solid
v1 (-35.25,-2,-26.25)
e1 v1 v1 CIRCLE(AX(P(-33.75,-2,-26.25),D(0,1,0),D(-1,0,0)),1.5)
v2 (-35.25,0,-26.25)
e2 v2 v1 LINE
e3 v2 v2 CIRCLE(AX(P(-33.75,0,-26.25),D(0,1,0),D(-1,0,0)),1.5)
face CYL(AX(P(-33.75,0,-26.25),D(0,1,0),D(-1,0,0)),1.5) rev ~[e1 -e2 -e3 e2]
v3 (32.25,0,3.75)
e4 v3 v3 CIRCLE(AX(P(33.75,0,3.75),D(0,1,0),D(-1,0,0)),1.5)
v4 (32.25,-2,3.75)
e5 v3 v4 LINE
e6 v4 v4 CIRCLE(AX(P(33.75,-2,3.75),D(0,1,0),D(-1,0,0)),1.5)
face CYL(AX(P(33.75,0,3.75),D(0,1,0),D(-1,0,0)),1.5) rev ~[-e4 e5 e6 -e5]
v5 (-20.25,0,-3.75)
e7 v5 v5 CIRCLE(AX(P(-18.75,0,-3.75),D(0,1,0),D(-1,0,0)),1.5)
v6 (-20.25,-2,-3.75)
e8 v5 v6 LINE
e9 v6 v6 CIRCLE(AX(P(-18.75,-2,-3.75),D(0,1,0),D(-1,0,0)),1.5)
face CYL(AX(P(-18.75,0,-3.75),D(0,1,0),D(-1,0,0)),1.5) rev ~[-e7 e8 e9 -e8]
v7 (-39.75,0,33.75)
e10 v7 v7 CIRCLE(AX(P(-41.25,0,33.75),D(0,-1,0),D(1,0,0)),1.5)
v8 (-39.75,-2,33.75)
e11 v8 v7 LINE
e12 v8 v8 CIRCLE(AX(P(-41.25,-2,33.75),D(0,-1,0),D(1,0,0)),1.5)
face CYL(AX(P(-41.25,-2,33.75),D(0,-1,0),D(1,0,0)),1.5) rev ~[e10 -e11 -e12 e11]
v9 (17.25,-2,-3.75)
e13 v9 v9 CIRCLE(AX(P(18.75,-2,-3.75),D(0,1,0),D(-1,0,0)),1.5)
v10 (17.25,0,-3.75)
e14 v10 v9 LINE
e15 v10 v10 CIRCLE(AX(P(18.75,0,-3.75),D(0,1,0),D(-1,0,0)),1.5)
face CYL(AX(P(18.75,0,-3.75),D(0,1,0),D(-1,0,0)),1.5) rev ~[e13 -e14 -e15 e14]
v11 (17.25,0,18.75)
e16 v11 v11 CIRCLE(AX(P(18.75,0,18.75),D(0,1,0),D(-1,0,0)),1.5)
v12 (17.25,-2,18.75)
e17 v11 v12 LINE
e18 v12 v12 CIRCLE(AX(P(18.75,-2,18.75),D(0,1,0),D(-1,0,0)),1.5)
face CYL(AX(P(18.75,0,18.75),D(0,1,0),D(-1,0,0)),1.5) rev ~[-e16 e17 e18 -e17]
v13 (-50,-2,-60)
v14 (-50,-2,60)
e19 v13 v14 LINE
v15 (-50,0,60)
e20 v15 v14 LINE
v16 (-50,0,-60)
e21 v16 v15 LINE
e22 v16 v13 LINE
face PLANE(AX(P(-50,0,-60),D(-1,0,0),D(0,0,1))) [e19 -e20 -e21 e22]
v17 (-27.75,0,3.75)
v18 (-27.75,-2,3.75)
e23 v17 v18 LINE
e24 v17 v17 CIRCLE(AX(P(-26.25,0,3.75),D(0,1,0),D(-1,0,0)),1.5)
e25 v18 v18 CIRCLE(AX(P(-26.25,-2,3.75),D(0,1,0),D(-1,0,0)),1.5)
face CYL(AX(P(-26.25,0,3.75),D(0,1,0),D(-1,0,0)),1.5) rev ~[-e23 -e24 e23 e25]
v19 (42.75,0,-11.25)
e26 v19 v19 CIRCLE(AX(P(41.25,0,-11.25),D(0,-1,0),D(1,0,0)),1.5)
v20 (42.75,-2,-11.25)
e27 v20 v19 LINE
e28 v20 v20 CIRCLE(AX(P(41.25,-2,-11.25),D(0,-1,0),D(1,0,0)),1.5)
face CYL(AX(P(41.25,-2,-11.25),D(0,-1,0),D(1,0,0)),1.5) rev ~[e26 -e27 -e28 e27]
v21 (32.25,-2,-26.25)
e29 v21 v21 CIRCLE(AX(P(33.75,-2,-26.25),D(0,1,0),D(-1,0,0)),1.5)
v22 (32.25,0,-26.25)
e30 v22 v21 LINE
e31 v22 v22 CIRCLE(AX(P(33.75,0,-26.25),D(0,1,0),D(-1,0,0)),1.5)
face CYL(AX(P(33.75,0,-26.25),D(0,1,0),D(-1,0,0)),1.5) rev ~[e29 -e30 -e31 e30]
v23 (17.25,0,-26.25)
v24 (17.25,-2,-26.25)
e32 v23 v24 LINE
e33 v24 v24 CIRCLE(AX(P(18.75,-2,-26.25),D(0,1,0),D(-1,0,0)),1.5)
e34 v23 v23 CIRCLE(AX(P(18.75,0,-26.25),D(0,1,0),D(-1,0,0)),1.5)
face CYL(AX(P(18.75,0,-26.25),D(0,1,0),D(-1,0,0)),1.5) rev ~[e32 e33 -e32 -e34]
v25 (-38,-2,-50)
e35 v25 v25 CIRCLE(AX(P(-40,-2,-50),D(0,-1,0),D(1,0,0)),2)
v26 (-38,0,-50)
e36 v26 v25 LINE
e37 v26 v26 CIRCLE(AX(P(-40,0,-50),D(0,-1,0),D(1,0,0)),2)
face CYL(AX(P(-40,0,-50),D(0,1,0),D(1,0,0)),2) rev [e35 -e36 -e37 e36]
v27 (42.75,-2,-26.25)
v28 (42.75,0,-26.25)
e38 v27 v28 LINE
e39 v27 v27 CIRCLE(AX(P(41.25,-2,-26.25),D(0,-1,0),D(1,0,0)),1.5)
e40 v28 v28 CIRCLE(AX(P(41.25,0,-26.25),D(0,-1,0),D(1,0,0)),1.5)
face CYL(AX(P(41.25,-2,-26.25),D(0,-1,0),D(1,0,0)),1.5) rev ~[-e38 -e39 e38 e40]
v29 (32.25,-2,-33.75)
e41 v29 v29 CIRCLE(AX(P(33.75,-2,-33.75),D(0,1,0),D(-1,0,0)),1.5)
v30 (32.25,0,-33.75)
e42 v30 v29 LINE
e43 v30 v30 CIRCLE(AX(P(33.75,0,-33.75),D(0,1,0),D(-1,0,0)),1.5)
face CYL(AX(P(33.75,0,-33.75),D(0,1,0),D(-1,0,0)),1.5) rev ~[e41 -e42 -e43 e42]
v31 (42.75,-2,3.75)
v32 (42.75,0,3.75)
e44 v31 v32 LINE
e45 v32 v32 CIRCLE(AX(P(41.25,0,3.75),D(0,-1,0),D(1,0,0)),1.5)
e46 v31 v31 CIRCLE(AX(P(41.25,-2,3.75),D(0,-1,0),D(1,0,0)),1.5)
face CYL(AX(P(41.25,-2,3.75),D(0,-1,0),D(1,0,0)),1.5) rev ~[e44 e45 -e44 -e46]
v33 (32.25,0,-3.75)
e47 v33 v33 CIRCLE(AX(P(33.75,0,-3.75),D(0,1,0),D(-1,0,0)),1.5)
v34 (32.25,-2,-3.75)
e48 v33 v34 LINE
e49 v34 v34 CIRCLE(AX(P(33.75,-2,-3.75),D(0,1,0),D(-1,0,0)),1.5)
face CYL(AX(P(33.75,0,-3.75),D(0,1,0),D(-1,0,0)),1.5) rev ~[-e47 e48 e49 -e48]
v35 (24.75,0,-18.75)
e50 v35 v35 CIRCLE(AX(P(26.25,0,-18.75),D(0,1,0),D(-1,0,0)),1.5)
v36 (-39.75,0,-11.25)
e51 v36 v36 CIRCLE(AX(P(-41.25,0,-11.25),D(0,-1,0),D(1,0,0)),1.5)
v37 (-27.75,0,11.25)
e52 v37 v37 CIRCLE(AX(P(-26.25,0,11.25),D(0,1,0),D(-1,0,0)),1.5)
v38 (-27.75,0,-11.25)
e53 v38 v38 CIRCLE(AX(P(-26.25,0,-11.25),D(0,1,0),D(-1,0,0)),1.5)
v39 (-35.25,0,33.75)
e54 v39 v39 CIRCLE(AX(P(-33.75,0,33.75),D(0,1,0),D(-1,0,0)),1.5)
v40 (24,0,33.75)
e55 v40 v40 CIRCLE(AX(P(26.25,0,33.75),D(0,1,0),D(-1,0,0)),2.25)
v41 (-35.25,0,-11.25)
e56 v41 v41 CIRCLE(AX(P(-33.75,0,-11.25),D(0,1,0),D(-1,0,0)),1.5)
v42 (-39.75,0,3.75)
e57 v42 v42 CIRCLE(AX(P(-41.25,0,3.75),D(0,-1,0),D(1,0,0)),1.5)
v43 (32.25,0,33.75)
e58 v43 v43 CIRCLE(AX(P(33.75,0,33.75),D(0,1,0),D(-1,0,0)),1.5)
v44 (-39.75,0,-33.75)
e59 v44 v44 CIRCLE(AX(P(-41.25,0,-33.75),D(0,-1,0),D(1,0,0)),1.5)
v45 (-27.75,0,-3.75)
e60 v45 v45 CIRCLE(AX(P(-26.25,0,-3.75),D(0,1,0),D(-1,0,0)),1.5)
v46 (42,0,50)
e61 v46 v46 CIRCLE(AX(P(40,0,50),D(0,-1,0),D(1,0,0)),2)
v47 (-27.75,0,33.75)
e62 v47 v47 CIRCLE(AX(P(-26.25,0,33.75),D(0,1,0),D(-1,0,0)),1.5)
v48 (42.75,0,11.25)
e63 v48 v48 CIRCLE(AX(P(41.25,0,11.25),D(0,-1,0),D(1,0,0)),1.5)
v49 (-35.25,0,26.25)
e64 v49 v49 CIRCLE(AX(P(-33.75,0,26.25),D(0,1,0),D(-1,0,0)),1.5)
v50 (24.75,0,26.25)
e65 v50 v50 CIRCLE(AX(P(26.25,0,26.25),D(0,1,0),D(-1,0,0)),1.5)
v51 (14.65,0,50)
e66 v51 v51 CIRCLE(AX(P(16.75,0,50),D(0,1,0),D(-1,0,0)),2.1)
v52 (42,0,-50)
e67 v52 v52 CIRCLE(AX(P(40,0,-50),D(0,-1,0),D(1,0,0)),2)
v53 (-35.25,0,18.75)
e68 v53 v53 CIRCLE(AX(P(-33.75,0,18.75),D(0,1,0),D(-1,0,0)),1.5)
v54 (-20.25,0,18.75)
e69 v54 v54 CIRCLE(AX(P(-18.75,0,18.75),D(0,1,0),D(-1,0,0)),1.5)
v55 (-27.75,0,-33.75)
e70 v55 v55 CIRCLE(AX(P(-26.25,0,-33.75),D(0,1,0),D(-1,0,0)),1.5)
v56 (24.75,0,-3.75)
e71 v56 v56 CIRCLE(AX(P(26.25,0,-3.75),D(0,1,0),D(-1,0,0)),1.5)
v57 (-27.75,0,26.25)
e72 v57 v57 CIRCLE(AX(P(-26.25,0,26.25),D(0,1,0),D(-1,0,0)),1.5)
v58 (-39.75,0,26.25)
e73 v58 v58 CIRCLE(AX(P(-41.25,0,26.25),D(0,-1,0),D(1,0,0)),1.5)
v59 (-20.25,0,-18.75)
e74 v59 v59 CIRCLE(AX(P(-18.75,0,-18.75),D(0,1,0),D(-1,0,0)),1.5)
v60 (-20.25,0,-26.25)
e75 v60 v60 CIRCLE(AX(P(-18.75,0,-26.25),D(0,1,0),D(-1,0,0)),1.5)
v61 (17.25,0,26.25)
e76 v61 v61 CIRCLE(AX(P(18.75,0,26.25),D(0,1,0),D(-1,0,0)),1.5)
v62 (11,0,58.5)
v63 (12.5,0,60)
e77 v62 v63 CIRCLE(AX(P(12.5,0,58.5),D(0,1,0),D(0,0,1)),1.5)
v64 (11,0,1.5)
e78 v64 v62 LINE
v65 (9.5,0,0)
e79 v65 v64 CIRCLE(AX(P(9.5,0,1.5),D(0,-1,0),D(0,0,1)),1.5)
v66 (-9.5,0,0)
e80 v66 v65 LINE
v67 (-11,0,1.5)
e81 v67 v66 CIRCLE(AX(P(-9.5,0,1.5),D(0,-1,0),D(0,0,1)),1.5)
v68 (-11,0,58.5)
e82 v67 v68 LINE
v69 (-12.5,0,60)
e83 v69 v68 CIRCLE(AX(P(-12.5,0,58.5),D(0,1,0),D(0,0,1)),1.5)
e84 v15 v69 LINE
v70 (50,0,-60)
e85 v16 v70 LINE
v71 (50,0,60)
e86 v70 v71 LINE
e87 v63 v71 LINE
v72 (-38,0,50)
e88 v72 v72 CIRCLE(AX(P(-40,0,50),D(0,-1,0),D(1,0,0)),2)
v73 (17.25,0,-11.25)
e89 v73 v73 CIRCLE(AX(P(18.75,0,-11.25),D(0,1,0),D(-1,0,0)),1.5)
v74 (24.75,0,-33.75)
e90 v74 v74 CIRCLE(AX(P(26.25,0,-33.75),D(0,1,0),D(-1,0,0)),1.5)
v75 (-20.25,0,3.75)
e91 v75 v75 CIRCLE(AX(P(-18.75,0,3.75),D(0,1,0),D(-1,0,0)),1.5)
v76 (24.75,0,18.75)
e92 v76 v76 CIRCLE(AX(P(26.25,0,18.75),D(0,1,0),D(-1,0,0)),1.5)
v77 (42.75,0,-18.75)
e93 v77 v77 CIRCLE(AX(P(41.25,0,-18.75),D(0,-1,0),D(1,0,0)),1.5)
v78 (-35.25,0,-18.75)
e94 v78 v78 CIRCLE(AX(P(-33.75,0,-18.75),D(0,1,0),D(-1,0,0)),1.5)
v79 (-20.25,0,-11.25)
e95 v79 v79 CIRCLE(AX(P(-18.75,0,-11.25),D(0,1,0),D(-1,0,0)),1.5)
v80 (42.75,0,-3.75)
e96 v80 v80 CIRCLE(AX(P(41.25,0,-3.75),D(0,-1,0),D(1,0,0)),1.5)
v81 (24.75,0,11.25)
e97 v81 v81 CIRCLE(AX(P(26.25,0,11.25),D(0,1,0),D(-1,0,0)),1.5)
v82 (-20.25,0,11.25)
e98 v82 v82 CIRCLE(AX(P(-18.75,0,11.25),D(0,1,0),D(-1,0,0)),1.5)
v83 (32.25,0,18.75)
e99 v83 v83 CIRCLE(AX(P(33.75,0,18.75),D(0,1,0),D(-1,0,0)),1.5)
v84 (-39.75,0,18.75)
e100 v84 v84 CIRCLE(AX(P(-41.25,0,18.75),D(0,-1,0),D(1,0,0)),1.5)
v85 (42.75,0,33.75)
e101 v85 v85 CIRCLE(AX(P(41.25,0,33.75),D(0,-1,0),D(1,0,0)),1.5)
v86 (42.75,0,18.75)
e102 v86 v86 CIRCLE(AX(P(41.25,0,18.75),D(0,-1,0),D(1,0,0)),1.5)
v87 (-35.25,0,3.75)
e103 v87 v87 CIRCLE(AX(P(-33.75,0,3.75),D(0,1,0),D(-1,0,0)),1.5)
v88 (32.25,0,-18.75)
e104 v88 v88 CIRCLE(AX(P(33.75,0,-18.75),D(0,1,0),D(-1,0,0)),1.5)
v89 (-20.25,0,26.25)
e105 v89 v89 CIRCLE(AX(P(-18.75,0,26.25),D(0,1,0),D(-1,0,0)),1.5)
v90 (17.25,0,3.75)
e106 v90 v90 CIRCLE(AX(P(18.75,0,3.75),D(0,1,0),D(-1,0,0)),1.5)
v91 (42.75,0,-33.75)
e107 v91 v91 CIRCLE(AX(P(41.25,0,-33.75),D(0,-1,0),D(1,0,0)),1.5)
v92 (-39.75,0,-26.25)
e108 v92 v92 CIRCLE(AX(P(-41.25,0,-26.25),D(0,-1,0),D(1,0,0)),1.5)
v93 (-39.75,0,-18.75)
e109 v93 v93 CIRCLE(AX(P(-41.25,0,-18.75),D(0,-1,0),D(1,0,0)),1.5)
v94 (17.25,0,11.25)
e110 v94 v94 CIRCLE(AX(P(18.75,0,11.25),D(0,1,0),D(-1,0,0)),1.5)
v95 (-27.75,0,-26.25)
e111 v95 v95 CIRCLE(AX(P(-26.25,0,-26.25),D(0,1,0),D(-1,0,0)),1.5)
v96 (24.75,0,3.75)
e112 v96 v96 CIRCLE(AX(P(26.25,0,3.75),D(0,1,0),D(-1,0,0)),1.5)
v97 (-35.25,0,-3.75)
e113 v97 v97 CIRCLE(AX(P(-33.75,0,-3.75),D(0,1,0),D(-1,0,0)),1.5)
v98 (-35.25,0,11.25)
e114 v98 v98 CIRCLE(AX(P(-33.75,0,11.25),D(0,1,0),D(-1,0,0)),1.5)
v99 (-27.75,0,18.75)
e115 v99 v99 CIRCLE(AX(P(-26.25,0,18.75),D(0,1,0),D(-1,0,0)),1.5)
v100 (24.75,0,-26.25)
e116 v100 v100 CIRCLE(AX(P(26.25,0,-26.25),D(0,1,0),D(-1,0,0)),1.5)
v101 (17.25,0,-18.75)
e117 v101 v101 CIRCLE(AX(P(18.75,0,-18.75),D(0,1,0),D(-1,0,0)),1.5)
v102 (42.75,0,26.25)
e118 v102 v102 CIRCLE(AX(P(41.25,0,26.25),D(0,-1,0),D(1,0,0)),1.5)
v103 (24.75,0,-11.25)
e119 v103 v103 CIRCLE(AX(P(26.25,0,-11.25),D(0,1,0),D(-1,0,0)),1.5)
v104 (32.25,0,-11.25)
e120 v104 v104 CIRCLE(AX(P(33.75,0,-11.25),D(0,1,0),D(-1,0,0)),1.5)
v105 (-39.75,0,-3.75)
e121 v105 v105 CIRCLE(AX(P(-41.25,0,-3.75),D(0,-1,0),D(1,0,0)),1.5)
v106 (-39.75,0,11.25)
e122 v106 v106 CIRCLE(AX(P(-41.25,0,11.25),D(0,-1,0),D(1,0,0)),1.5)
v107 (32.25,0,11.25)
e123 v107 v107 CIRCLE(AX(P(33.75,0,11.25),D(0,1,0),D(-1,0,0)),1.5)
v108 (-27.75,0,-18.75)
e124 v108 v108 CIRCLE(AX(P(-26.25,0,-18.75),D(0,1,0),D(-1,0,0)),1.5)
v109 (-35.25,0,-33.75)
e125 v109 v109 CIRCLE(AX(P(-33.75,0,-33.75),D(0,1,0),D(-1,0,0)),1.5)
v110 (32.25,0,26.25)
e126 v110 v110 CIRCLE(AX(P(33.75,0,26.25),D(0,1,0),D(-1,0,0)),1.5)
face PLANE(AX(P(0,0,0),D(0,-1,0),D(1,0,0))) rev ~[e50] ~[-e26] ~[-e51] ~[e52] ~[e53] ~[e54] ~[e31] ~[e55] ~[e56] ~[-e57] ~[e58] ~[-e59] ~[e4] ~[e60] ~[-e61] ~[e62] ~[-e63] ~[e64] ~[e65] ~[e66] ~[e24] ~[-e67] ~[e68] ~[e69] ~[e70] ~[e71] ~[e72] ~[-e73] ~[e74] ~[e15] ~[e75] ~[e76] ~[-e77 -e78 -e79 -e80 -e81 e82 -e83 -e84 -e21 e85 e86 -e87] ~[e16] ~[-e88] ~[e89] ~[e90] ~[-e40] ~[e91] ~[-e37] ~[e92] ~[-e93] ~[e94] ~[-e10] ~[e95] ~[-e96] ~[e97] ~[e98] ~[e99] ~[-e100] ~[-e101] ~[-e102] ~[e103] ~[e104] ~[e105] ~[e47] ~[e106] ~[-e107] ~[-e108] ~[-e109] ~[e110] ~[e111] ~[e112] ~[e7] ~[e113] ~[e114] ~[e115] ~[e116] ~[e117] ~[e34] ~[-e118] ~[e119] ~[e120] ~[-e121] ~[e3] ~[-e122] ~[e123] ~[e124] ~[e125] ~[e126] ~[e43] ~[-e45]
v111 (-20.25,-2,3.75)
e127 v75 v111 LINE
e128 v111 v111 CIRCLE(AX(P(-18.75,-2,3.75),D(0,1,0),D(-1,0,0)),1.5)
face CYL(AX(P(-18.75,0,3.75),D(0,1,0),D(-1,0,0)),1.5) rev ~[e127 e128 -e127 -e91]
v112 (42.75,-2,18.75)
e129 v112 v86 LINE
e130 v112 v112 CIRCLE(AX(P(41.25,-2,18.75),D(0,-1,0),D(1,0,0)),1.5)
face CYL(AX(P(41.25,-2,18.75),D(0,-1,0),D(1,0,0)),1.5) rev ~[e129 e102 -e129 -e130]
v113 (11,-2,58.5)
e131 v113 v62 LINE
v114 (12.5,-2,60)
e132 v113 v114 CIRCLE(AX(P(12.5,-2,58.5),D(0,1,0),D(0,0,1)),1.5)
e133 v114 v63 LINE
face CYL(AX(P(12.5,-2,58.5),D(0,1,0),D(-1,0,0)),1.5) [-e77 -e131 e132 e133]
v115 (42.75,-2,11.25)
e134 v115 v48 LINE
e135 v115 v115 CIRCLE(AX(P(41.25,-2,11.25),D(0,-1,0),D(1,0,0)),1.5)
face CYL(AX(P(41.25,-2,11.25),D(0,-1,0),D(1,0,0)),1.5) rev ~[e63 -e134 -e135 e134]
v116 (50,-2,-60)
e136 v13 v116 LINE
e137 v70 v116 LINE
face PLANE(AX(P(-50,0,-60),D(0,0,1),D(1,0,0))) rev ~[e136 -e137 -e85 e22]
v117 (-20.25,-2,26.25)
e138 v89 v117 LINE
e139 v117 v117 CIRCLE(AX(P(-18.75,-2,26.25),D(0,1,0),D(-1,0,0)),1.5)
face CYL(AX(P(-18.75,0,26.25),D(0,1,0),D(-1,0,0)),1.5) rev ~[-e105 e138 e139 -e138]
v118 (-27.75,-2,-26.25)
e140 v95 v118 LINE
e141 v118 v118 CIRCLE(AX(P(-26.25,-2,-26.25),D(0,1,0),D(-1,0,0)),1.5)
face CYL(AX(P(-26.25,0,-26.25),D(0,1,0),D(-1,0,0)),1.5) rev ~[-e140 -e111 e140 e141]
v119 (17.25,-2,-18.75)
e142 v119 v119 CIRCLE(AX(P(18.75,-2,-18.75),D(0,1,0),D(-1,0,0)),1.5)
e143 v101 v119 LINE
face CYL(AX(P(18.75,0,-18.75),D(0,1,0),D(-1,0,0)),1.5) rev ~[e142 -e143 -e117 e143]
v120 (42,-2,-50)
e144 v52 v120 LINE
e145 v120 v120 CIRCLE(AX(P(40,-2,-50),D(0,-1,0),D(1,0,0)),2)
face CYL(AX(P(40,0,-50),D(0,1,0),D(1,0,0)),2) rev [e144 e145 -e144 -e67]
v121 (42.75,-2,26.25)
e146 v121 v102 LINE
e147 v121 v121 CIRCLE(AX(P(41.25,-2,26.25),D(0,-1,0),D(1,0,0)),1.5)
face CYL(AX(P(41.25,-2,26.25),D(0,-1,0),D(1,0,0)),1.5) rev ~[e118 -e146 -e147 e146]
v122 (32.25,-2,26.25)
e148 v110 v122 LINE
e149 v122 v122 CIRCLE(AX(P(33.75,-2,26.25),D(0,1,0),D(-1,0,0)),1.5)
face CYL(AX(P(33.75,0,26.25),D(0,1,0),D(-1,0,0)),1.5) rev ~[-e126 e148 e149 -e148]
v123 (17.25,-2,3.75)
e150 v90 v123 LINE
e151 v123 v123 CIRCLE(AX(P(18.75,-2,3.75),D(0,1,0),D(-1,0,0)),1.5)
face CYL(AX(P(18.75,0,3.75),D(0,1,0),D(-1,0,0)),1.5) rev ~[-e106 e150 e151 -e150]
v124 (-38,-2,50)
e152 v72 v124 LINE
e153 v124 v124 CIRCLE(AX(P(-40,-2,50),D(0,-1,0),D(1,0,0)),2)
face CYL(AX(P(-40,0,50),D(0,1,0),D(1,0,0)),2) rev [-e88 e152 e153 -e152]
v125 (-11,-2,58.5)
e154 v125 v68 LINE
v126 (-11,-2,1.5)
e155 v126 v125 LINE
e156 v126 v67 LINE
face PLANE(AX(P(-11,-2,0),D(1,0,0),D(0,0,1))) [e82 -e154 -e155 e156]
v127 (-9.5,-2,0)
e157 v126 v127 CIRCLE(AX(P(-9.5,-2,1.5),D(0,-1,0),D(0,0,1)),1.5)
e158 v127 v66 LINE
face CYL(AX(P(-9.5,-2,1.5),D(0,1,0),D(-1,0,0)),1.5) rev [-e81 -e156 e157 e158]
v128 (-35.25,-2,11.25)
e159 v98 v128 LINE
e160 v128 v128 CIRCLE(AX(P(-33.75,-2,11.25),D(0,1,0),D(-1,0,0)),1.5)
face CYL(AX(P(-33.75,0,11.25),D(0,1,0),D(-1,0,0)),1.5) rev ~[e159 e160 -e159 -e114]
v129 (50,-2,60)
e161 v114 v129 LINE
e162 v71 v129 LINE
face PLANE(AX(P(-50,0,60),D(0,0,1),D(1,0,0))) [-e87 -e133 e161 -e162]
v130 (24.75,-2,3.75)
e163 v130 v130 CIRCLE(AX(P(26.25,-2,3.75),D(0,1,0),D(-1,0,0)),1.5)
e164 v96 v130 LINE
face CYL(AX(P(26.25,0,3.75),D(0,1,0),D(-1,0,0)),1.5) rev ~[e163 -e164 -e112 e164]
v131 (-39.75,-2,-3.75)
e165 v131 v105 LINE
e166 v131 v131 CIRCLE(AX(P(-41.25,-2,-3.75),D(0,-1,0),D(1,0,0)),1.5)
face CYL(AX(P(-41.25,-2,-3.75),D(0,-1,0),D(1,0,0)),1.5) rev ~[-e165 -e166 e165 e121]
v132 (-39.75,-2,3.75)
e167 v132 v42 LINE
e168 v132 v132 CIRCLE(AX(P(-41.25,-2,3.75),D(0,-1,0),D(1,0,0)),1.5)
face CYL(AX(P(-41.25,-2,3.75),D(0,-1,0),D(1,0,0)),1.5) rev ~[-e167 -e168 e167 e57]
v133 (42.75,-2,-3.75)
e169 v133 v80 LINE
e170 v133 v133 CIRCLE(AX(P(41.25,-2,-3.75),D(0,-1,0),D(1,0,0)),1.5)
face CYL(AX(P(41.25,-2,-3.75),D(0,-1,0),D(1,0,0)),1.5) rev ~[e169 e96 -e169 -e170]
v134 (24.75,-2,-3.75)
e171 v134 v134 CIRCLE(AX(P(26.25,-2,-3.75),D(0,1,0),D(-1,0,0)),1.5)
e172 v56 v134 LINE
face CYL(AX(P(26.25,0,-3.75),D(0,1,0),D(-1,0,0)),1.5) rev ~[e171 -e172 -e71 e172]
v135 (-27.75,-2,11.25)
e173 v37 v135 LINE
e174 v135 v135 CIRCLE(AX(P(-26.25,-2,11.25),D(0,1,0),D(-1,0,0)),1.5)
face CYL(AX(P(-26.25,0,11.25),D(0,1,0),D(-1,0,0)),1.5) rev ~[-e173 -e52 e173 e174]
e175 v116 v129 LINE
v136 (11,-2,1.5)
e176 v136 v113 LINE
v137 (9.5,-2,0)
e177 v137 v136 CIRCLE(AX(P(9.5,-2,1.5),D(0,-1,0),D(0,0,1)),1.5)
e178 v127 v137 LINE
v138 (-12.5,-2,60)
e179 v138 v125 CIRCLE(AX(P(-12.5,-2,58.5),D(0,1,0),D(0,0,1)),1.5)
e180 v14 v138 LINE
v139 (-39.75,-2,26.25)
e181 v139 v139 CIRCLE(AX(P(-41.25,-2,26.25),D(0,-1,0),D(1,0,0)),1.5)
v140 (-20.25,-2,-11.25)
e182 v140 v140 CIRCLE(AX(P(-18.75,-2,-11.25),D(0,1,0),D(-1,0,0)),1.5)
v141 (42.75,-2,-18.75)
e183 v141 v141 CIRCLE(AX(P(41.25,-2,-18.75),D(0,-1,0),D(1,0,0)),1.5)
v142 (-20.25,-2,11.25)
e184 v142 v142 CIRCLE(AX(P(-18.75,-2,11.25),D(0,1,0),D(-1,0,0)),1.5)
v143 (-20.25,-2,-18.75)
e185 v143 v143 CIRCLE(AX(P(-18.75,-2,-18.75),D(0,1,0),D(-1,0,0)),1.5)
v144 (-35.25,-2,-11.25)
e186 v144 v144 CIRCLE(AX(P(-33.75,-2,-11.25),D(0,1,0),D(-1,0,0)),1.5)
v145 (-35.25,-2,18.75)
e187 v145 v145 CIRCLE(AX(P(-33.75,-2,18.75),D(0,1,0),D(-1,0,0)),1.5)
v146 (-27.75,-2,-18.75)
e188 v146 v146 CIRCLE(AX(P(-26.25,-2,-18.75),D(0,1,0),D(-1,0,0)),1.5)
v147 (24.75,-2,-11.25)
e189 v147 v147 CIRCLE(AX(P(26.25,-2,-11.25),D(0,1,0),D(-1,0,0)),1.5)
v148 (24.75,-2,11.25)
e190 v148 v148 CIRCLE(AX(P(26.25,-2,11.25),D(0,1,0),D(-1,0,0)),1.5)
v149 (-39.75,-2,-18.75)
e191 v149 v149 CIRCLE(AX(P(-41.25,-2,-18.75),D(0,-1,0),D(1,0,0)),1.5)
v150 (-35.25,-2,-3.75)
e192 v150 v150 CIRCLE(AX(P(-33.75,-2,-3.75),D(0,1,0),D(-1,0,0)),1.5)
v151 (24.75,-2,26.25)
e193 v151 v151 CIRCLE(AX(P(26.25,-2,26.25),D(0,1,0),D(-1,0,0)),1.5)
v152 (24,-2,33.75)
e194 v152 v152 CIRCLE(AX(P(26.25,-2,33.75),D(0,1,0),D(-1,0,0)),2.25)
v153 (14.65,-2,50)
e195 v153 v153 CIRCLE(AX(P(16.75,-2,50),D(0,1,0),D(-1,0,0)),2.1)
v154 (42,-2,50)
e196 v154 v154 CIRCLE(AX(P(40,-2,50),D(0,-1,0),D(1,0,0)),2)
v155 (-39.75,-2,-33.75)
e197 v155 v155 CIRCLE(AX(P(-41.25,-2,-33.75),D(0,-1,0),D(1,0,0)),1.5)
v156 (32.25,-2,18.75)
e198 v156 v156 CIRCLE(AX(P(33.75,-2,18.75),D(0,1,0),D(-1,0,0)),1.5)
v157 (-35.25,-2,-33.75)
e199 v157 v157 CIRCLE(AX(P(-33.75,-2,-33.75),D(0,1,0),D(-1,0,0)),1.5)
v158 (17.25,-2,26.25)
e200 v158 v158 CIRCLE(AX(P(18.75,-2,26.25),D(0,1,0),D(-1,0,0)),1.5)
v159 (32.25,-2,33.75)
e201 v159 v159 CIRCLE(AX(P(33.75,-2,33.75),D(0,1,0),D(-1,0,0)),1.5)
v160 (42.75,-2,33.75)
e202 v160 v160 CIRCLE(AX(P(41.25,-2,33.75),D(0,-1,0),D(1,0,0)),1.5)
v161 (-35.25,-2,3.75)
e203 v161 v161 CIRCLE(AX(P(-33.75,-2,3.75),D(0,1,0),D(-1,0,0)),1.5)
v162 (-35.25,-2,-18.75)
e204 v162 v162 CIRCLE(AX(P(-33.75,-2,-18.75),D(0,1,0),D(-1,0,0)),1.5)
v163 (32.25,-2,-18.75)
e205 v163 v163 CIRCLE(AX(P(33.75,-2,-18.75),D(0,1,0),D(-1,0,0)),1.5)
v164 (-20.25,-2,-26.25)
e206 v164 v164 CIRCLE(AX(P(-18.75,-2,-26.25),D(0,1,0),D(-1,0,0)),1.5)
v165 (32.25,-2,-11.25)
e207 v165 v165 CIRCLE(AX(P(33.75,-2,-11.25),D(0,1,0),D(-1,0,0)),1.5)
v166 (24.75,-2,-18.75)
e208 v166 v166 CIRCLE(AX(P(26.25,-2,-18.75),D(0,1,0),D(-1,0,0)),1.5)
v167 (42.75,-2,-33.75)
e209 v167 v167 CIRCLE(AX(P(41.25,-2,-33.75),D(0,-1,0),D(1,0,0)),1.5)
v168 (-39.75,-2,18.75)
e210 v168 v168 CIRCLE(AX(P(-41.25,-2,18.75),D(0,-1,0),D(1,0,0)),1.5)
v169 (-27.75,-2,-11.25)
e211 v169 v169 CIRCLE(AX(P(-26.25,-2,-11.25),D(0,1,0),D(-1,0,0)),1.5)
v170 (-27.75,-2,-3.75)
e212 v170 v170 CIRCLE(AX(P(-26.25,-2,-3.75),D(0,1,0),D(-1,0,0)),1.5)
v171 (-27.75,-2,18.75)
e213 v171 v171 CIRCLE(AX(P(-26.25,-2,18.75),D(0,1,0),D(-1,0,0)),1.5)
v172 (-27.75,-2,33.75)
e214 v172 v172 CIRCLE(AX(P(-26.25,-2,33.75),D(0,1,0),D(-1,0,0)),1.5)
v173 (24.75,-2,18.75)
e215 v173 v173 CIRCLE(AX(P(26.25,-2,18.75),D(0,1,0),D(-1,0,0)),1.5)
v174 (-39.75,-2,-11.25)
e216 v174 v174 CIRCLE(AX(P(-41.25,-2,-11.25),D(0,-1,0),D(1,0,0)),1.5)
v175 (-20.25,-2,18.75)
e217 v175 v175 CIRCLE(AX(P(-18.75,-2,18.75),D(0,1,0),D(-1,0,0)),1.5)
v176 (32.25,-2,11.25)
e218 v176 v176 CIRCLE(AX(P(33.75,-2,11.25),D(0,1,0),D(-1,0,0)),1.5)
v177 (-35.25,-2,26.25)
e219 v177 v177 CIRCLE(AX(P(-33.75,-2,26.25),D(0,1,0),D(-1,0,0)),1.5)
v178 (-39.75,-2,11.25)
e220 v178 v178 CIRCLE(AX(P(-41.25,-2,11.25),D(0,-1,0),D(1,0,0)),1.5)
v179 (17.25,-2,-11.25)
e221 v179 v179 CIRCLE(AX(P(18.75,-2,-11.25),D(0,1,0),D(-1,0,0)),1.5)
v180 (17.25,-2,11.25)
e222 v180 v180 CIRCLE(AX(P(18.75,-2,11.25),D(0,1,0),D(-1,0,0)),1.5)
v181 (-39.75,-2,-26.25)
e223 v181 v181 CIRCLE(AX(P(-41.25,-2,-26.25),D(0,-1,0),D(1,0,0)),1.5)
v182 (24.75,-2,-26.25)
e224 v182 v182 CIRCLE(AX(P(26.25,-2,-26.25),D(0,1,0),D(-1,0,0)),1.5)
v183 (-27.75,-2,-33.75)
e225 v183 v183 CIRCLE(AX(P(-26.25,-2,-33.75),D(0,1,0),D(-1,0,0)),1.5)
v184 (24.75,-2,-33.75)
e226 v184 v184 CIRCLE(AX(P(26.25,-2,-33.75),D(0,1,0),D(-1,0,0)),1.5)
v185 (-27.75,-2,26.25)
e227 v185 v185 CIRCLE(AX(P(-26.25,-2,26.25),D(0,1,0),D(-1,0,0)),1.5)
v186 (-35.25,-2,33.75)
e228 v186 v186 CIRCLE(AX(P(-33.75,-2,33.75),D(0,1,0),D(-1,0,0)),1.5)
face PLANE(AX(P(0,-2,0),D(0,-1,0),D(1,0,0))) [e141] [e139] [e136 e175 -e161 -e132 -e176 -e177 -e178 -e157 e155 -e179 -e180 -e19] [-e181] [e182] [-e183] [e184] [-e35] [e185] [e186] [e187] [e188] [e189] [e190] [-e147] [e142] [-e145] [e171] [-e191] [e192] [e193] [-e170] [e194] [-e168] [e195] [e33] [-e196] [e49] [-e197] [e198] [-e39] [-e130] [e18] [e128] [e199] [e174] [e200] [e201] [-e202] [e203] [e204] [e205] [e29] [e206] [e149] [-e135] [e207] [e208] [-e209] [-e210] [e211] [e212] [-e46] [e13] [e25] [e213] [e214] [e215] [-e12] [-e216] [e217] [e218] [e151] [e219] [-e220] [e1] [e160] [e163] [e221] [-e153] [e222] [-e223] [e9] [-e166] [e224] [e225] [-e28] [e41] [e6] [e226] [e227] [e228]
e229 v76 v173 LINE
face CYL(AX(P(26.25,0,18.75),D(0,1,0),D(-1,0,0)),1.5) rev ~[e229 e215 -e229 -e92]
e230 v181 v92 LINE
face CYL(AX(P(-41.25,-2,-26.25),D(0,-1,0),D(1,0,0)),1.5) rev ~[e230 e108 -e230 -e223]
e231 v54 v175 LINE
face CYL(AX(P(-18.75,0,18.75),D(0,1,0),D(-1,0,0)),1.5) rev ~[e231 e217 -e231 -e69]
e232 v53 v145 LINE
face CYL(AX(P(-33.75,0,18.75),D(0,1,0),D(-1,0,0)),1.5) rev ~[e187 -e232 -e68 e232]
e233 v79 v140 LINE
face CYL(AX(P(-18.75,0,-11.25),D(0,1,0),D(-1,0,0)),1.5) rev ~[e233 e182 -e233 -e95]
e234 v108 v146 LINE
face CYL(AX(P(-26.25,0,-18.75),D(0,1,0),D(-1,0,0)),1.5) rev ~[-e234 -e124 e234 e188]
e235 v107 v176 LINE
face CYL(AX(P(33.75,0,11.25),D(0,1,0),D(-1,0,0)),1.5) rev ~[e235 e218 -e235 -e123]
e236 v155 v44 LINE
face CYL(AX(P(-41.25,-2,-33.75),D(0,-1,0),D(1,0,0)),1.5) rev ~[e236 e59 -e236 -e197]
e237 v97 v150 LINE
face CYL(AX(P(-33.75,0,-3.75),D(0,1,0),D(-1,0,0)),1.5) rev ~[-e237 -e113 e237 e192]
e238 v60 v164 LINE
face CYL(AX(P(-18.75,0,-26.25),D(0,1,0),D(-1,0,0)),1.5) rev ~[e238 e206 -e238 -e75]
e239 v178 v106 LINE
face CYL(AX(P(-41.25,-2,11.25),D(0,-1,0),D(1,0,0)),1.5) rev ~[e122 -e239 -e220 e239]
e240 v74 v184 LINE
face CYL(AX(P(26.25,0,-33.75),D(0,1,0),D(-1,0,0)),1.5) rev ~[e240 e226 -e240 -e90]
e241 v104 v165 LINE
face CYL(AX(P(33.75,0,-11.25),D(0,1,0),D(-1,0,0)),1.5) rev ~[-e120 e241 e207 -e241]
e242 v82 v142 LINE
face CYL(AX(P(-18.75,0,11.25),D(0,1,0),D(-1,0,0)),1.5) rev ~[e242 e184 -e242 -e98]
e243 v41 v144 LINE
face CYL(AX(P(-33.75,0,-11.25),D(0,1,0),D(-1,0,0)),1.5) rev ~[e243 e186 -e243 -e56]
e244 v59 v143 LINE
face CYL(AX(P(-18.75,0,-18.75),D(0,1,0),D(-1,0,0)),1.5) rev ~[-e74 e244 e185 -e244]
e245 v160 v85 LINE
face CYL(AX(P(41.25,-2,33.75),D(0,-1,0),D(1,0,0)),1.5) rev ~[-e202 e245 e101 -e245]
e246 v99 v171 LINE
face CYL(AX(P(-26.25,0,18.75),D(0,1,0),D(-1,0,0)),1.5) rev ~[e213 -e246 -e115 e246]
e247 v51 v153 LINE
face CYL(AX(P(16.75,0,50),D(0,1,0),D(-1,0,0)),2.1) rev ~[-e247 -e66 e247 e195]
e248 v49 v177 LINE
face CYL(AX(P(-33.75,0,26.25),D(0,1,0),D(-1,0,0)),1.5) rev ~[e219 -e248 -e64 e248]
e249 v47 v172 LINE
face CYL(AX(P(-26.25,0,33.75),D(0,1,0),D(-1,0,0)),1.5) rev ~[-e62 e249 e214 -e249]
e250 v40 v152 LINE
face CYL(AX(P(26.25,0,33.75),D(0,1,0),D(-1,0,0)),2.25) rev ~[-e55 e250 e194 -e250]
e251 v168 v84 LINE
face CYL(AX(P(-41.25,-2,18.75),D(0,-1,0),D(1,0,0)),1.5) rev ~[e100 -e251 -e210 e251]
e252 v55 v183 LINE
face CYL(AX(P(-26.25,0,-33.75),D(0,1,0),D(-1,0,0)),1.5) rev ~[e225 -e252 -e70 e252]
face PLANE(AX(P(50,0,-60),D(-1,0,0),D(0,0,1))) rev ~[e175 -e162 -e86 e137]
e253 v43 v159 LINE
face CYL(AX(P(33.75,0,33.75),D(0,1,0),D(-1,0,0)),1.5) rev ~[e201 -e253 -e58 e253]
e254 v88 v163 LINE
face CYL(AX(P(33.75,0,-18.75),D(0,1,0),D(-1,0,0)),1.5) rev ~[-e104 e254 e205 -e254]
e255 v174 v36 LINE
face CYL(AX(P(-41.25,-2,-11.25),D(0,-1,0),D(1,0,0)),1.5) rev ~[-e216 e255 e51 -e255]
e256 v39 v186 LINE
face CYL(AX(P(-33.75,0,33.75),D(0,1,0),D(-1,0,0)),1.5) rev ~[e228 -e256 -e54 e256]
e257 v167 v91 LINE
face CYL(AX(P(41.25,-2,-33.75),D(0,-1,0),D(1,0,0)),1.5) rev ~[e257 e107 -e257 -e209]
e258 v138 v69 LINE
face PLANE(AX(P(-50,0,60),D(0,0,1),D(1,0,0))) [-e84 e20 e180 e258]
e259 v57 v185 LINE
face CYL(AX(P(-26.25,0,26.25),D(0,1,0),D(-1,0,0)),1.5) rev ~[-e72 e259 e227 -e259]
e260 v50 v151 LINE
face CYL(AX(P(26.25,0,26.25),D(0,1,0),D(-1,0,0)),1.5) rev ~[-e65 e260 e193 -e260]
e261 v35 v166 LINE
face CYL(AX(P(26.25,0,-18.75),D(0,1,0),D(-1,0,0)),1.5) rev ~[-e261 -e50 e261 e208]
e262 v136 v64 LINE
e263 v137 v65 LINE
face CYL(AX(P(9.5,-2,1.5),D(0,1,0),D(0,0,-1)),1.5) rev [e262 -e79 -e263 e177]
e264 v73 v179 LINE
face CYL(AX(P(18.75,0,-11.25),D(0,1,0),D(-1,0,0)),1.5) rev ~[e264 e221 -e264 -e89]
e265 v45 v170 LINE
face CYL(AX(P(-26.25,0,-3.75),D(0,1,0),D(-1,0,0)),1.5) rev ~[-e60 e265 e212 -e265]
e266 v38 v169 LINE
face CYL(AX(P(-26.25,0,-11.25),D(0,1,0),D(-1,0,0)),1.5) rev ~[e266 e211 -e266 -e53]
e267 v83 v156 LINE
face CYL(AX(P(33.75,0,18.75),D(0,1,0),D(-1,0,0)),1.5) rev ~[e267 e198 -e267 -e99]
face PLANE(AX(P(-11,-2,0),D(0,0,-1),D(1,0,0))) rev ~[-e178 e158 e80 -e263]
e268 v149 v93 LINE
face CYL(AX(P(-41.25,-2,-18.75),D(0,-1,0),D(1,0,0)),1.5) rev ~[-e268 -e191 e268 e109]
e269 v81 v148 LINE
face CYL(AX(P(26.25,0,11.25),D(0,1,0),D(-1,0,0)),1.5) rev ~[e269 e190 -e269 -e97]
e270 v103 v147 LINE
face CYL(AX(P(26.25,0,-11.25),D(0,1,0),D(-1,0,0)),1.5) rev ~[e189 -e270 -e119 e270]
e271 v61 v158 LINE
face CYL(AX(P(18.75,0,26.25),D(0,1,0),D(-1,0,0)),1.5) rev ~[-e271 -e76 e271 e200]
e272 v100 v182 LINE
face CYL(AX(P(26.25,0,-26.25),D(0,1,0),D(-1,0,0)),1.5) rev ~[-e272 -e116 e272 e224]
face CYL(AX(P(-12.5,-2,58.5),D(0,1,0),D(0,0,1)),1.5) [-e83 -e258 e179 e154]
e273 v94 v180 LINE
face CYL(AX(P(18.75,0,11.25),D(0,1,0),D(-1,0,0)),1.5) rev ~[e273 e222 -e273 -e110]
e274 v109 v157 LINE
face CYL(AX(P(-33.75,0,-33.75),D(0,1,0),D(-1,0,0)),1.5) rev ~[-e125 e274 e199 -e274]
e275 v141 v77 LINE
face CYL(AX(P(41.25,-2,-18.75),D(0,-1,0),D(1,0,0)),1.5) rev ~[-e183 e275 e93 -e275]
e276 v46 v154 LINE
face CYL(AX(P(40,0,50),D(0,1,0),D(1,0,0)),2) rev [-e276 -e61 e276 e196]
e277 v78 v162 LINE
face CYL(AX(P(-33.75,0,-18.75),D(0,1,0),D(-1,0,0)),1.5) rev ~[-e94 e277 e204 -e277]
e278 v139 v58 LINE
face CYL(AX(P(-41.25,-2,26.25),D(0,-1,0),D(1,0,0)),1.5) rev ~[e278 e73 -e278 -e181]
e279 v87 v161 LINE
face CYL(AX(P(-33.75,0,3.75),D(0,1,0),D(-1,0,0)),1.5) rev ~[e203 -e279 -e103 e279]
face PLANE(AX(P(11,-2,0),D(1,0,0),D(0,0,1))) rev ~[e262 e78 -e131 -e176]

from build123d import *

# Parameters (mm, degrees)
F0_W      = 100
F0_H      = 120
F0_R      = 2
F1_DEPTH  = 2
F2_W      = 22
F2_H      = 60
F3_DEPTH  = 2.001
F4_R      = 1.5
F5_R      = 1.5
F6_DEPTH  = 2.001
F7_R      = 1.5
F8_DEPTH  = 2.001
F9_R      = 2.25
F10_DEPTH = 2.001
F12_DEPTH = 2.001


with BuildPart() as f1:
    # F0 (on Front) → F1 (new body)
    with BuildSketch(Plane.XZ):
        Rectangle(F0_W, F0_H)
        with Locations((-40, -50)):
            Circle(F0_R, mode=Mode.SUBTRACT)
        with Locations((40, -50)):
            Circle(F0_R, mode=Mode.SUBTRACT)
        with Locations((-40, 50)):
            Circle(F0_R, mode=Mode.SUBTRACT)
        with Locations((40, 50)):
            Circle(F0_R, mode=Mode.SUBTRACT)
    extrude(amount=F1_DEPTH)

    # F2 (on face) → F3 (cut, through all)
    with BuildSketch(Plane.XZ.offset(2)):
        with Locations((0, 30)):
            Rectangle(F2_W, F2_H)
    extrude(amount=-F3_DEPTH, mode=Mode.SUBTRACT)

    # F4
    f4_edges = [f1.edges().sort_by_distance(p)[0] for p in [
        (-11, -1, 0),
        (11, -1, 0),
        (-11, -1, 60),
        (11, -1, 60),
    ]]
    fillet(f4_edges, radius=F4_R)

    # F5 (on face) → F6 (cut, through all)
    with BuildSketch(Plane(origin=(0, 0, 0), x_dir=(-1, 0, 0), z_dir=(0, 1, 0))):
        with Locations((33.75, 33.75)):
            Circle(F5_R)
        with Locations((33.75, 26.25)):
            Circle(F5_R)
        with Locations((33.75, 18.75)):
            Circle(F5_R)
        with Locations((33.75, 11.25)):
            Circle(F5_R)
        with Locations((33.75, 3.75)):
            Circle(F5_R)
        with Locations((33.75, -3.75)):
            Circle(F5_R)
        with Locations((33.75, -11.25)):
            Circle(F5_R)
        with Locations((33.75, -18.75)):
            Circle(F5_R)
        with Locations((33.75, -26.25)):
            Circle(F5_R)
        with Locations((33.75, -33.75)):
            Circle(F5_R)
        with Locations((26.25, 33.75)):
            Circle(F5_R)
        with Locations((26.25, 26.25)):
            Circle(F5_R)
        with Locations((26.25, 18.75)):
            Circle(F5_R)
        with Locations((26.25, 11.25)):
            Circle(F5_R)
        with Locations((26.25, 3.75)):
            Circle(F5_R)
        with Locations((26.25, -3.75)):
            Circle(F5_R)
        with Locations((26.25, -11.25)):
            Circle(F5_R)
        with Locations((26.25, -18.75)):
            Circle(F5_R)
        with Locations((26.25, -26.25)):
            Circle(F5_R)
        with Locations((26.25, -33.75)):
            Circle(F5_R)
        with Locations((18.75, 26.25)):
            Circle(F5_R)
        with Locations((18.75, 18.75)):
            Circle(F5_R)
        with Locations((18.75, 11.25)):
            Circle(F5_R)
        with Locations((18.75, 3.75)):
            Circle(F5_R)
        with Locations((18.75, -3.75)):
            Circle(F5_R)
        with Locations((18.75, -11.25)):
            Circle(F5_R)
        with Locations((18.75, -18.75)):
            Circle(F5_R)
        with Locations((18.75, -26.25)):
            Circle(F5_R)
        with Locations((-26.25, 18.75)):
            Circle(F5_R)
        with Locations((-26.25, 3.75)):
            Circle(F5_R)
        with Locations((-18.75, -18.75)):
            Circle(F5_R)
        with Locations((-33.75, -26.25)):
            Circle(F5_R)
        with Locations((-33.75, 18.75)):
            Circle(F5_R)
        with Locations((-26.25, 26.25)):
            Circle(F5_R)
        with Locations((-26.25, 33.75)):
            Circle(F5_R)
        with Locations((-33.75, 33.75)):
            Circle(F5_R)
        with Locations((-18.75, 3.75)):
            Circle(F5_R)
        with Locations((-33.75, 3.75)):
            Circle(F5_R)
        with Locations((-26.25, -3.75)):
            Circle(F5_R)
        with Locations((-33.75, -33.75)):
            Circle(F5_R)
        with Locations((-26.25, -26.25)):
            Circle(F5_R)
        with Locations((-33.75, -11.25)):
            Circle(F5_R)
        with Locations((-26.25, -11.25)):
            Circle(F5_R)
        with Locations((-33.75, -3.75)):
            Circle(F5_R)
        with Locations((-33.75, 26.25)):
            Circle(F5_R)
        with Locations((-18.75, 11.25)):
            Circle(F5_R)
        with Locations((-18.75, 18.75)):
            Circle(F5_R)
        with Locations((-18.75, -11.25)):
            Circle(F5_R)
        with Locations((-18.75, 26.25)):
            Circle(F5_R)
        with Locations((-26.25, -18.75)):
            Circle(F5_R)
        with Locations((-33.75, -18.75)):
            Circle(F5_R)
        with Locations((-26.25, 11.25)):
            Circle(F5_R)
        with Locations((-18.75, -26.25)):
            Circle(F5_R)
        with Locations((-33.75, 11.25)):
            Circle(F5_R)
        with Locations((-18.75, -3.75)):
            Circle(F5_R)
        with Locations((-26.25, -33.75)):
            Circle(F5_R)
    extrude(amount=-F6_DEPTH, mode=Mode.SUBTRACT)

    # F7 (on face) → F8 (cut, through all)
    with BuildSketch(Plane.XZ.offset(2)):
        with Locations((-41.25, 33.75)):
            Circle(F7_R)
        with Locations((-41.25, 26.25)):
            Circle(F7_R)
        with Locations((-41.25, 18.75)):
            Circle(F7_R)
        with Locations((-41.25, 11.25)):
            Circle(F7_R)
        with Locations((-41.25, 3.75)):
            Circle(F7_R)
        with Locations((-41.25, -3.75)):
            Circle(F7_R)
        with Locations((-41.25, -11.25)):
            Circle(F7_R)
        with Locations((-41.25, -18.75)):
            Circle(F7_R)
        with Locations((-41.25, -26.25)):
            Circle(F7_R)
        with Locations((-41.25, -33.75)):
            Circle(F7_R)
        with Locations((41.25, -26.25)):
            Circle(F7_R)
        with Locations((41.25, -18.75)):
            Circle(F7_R)
        with Locations((41.25, -11.25)):
            Circle(F7_R)
        with Locations((41.25, 18.75)):
            Circle(F7_R)
        with Locations((41.25, -3.75)):
            Circle(F7_R)
        with Locations((41.25, 26.25)):
            Circle(F7_R)
        with Locations((41.25, 33.75)):
            Circle(F7_R)
        with Locations((41.25, 3.75)):
            Circle(F7_R)
        with Locations((41.25, 11.25)):
            Circle(F7_R)
        with Locations((41.25, -33.75)):
            Circle(F7_R)
    extrude(amount=-F8_DEPTH, mode=Mode.SUBTRACT)

    # F9 (on face) → F10 (cut, through all)
    with BuildSketch(Plane(origin=(0, 0, 0), x_dir=(-1, 0, 0), z_dir=(0, 1, 0))):
        with Locations((-26.25, 33.75)):
            Circle(F9_R)
    extrude(amount=-F10_DEPTH, mode=Mode.SUBTRACT)

    # F11 (on face) → F12 (cut, through all)
    with BuildSketch(Plane(origin=(0, 0, 0), x_dir=(-1, 0, 0), z_dir=(0, 1, 0))):
        with BuildLine():
            ThreePointArc((-18.85, 50), (-16.75, 47.9), (-14.65, 50))
            ThreePointArc((-14.65, 50), (-16.75, 52.1), (-18.85, 50))
        make_face()
    extrude(amount=-F12_DEPTH, mode=Mode.SUBTRACT)


solid = f1.part
